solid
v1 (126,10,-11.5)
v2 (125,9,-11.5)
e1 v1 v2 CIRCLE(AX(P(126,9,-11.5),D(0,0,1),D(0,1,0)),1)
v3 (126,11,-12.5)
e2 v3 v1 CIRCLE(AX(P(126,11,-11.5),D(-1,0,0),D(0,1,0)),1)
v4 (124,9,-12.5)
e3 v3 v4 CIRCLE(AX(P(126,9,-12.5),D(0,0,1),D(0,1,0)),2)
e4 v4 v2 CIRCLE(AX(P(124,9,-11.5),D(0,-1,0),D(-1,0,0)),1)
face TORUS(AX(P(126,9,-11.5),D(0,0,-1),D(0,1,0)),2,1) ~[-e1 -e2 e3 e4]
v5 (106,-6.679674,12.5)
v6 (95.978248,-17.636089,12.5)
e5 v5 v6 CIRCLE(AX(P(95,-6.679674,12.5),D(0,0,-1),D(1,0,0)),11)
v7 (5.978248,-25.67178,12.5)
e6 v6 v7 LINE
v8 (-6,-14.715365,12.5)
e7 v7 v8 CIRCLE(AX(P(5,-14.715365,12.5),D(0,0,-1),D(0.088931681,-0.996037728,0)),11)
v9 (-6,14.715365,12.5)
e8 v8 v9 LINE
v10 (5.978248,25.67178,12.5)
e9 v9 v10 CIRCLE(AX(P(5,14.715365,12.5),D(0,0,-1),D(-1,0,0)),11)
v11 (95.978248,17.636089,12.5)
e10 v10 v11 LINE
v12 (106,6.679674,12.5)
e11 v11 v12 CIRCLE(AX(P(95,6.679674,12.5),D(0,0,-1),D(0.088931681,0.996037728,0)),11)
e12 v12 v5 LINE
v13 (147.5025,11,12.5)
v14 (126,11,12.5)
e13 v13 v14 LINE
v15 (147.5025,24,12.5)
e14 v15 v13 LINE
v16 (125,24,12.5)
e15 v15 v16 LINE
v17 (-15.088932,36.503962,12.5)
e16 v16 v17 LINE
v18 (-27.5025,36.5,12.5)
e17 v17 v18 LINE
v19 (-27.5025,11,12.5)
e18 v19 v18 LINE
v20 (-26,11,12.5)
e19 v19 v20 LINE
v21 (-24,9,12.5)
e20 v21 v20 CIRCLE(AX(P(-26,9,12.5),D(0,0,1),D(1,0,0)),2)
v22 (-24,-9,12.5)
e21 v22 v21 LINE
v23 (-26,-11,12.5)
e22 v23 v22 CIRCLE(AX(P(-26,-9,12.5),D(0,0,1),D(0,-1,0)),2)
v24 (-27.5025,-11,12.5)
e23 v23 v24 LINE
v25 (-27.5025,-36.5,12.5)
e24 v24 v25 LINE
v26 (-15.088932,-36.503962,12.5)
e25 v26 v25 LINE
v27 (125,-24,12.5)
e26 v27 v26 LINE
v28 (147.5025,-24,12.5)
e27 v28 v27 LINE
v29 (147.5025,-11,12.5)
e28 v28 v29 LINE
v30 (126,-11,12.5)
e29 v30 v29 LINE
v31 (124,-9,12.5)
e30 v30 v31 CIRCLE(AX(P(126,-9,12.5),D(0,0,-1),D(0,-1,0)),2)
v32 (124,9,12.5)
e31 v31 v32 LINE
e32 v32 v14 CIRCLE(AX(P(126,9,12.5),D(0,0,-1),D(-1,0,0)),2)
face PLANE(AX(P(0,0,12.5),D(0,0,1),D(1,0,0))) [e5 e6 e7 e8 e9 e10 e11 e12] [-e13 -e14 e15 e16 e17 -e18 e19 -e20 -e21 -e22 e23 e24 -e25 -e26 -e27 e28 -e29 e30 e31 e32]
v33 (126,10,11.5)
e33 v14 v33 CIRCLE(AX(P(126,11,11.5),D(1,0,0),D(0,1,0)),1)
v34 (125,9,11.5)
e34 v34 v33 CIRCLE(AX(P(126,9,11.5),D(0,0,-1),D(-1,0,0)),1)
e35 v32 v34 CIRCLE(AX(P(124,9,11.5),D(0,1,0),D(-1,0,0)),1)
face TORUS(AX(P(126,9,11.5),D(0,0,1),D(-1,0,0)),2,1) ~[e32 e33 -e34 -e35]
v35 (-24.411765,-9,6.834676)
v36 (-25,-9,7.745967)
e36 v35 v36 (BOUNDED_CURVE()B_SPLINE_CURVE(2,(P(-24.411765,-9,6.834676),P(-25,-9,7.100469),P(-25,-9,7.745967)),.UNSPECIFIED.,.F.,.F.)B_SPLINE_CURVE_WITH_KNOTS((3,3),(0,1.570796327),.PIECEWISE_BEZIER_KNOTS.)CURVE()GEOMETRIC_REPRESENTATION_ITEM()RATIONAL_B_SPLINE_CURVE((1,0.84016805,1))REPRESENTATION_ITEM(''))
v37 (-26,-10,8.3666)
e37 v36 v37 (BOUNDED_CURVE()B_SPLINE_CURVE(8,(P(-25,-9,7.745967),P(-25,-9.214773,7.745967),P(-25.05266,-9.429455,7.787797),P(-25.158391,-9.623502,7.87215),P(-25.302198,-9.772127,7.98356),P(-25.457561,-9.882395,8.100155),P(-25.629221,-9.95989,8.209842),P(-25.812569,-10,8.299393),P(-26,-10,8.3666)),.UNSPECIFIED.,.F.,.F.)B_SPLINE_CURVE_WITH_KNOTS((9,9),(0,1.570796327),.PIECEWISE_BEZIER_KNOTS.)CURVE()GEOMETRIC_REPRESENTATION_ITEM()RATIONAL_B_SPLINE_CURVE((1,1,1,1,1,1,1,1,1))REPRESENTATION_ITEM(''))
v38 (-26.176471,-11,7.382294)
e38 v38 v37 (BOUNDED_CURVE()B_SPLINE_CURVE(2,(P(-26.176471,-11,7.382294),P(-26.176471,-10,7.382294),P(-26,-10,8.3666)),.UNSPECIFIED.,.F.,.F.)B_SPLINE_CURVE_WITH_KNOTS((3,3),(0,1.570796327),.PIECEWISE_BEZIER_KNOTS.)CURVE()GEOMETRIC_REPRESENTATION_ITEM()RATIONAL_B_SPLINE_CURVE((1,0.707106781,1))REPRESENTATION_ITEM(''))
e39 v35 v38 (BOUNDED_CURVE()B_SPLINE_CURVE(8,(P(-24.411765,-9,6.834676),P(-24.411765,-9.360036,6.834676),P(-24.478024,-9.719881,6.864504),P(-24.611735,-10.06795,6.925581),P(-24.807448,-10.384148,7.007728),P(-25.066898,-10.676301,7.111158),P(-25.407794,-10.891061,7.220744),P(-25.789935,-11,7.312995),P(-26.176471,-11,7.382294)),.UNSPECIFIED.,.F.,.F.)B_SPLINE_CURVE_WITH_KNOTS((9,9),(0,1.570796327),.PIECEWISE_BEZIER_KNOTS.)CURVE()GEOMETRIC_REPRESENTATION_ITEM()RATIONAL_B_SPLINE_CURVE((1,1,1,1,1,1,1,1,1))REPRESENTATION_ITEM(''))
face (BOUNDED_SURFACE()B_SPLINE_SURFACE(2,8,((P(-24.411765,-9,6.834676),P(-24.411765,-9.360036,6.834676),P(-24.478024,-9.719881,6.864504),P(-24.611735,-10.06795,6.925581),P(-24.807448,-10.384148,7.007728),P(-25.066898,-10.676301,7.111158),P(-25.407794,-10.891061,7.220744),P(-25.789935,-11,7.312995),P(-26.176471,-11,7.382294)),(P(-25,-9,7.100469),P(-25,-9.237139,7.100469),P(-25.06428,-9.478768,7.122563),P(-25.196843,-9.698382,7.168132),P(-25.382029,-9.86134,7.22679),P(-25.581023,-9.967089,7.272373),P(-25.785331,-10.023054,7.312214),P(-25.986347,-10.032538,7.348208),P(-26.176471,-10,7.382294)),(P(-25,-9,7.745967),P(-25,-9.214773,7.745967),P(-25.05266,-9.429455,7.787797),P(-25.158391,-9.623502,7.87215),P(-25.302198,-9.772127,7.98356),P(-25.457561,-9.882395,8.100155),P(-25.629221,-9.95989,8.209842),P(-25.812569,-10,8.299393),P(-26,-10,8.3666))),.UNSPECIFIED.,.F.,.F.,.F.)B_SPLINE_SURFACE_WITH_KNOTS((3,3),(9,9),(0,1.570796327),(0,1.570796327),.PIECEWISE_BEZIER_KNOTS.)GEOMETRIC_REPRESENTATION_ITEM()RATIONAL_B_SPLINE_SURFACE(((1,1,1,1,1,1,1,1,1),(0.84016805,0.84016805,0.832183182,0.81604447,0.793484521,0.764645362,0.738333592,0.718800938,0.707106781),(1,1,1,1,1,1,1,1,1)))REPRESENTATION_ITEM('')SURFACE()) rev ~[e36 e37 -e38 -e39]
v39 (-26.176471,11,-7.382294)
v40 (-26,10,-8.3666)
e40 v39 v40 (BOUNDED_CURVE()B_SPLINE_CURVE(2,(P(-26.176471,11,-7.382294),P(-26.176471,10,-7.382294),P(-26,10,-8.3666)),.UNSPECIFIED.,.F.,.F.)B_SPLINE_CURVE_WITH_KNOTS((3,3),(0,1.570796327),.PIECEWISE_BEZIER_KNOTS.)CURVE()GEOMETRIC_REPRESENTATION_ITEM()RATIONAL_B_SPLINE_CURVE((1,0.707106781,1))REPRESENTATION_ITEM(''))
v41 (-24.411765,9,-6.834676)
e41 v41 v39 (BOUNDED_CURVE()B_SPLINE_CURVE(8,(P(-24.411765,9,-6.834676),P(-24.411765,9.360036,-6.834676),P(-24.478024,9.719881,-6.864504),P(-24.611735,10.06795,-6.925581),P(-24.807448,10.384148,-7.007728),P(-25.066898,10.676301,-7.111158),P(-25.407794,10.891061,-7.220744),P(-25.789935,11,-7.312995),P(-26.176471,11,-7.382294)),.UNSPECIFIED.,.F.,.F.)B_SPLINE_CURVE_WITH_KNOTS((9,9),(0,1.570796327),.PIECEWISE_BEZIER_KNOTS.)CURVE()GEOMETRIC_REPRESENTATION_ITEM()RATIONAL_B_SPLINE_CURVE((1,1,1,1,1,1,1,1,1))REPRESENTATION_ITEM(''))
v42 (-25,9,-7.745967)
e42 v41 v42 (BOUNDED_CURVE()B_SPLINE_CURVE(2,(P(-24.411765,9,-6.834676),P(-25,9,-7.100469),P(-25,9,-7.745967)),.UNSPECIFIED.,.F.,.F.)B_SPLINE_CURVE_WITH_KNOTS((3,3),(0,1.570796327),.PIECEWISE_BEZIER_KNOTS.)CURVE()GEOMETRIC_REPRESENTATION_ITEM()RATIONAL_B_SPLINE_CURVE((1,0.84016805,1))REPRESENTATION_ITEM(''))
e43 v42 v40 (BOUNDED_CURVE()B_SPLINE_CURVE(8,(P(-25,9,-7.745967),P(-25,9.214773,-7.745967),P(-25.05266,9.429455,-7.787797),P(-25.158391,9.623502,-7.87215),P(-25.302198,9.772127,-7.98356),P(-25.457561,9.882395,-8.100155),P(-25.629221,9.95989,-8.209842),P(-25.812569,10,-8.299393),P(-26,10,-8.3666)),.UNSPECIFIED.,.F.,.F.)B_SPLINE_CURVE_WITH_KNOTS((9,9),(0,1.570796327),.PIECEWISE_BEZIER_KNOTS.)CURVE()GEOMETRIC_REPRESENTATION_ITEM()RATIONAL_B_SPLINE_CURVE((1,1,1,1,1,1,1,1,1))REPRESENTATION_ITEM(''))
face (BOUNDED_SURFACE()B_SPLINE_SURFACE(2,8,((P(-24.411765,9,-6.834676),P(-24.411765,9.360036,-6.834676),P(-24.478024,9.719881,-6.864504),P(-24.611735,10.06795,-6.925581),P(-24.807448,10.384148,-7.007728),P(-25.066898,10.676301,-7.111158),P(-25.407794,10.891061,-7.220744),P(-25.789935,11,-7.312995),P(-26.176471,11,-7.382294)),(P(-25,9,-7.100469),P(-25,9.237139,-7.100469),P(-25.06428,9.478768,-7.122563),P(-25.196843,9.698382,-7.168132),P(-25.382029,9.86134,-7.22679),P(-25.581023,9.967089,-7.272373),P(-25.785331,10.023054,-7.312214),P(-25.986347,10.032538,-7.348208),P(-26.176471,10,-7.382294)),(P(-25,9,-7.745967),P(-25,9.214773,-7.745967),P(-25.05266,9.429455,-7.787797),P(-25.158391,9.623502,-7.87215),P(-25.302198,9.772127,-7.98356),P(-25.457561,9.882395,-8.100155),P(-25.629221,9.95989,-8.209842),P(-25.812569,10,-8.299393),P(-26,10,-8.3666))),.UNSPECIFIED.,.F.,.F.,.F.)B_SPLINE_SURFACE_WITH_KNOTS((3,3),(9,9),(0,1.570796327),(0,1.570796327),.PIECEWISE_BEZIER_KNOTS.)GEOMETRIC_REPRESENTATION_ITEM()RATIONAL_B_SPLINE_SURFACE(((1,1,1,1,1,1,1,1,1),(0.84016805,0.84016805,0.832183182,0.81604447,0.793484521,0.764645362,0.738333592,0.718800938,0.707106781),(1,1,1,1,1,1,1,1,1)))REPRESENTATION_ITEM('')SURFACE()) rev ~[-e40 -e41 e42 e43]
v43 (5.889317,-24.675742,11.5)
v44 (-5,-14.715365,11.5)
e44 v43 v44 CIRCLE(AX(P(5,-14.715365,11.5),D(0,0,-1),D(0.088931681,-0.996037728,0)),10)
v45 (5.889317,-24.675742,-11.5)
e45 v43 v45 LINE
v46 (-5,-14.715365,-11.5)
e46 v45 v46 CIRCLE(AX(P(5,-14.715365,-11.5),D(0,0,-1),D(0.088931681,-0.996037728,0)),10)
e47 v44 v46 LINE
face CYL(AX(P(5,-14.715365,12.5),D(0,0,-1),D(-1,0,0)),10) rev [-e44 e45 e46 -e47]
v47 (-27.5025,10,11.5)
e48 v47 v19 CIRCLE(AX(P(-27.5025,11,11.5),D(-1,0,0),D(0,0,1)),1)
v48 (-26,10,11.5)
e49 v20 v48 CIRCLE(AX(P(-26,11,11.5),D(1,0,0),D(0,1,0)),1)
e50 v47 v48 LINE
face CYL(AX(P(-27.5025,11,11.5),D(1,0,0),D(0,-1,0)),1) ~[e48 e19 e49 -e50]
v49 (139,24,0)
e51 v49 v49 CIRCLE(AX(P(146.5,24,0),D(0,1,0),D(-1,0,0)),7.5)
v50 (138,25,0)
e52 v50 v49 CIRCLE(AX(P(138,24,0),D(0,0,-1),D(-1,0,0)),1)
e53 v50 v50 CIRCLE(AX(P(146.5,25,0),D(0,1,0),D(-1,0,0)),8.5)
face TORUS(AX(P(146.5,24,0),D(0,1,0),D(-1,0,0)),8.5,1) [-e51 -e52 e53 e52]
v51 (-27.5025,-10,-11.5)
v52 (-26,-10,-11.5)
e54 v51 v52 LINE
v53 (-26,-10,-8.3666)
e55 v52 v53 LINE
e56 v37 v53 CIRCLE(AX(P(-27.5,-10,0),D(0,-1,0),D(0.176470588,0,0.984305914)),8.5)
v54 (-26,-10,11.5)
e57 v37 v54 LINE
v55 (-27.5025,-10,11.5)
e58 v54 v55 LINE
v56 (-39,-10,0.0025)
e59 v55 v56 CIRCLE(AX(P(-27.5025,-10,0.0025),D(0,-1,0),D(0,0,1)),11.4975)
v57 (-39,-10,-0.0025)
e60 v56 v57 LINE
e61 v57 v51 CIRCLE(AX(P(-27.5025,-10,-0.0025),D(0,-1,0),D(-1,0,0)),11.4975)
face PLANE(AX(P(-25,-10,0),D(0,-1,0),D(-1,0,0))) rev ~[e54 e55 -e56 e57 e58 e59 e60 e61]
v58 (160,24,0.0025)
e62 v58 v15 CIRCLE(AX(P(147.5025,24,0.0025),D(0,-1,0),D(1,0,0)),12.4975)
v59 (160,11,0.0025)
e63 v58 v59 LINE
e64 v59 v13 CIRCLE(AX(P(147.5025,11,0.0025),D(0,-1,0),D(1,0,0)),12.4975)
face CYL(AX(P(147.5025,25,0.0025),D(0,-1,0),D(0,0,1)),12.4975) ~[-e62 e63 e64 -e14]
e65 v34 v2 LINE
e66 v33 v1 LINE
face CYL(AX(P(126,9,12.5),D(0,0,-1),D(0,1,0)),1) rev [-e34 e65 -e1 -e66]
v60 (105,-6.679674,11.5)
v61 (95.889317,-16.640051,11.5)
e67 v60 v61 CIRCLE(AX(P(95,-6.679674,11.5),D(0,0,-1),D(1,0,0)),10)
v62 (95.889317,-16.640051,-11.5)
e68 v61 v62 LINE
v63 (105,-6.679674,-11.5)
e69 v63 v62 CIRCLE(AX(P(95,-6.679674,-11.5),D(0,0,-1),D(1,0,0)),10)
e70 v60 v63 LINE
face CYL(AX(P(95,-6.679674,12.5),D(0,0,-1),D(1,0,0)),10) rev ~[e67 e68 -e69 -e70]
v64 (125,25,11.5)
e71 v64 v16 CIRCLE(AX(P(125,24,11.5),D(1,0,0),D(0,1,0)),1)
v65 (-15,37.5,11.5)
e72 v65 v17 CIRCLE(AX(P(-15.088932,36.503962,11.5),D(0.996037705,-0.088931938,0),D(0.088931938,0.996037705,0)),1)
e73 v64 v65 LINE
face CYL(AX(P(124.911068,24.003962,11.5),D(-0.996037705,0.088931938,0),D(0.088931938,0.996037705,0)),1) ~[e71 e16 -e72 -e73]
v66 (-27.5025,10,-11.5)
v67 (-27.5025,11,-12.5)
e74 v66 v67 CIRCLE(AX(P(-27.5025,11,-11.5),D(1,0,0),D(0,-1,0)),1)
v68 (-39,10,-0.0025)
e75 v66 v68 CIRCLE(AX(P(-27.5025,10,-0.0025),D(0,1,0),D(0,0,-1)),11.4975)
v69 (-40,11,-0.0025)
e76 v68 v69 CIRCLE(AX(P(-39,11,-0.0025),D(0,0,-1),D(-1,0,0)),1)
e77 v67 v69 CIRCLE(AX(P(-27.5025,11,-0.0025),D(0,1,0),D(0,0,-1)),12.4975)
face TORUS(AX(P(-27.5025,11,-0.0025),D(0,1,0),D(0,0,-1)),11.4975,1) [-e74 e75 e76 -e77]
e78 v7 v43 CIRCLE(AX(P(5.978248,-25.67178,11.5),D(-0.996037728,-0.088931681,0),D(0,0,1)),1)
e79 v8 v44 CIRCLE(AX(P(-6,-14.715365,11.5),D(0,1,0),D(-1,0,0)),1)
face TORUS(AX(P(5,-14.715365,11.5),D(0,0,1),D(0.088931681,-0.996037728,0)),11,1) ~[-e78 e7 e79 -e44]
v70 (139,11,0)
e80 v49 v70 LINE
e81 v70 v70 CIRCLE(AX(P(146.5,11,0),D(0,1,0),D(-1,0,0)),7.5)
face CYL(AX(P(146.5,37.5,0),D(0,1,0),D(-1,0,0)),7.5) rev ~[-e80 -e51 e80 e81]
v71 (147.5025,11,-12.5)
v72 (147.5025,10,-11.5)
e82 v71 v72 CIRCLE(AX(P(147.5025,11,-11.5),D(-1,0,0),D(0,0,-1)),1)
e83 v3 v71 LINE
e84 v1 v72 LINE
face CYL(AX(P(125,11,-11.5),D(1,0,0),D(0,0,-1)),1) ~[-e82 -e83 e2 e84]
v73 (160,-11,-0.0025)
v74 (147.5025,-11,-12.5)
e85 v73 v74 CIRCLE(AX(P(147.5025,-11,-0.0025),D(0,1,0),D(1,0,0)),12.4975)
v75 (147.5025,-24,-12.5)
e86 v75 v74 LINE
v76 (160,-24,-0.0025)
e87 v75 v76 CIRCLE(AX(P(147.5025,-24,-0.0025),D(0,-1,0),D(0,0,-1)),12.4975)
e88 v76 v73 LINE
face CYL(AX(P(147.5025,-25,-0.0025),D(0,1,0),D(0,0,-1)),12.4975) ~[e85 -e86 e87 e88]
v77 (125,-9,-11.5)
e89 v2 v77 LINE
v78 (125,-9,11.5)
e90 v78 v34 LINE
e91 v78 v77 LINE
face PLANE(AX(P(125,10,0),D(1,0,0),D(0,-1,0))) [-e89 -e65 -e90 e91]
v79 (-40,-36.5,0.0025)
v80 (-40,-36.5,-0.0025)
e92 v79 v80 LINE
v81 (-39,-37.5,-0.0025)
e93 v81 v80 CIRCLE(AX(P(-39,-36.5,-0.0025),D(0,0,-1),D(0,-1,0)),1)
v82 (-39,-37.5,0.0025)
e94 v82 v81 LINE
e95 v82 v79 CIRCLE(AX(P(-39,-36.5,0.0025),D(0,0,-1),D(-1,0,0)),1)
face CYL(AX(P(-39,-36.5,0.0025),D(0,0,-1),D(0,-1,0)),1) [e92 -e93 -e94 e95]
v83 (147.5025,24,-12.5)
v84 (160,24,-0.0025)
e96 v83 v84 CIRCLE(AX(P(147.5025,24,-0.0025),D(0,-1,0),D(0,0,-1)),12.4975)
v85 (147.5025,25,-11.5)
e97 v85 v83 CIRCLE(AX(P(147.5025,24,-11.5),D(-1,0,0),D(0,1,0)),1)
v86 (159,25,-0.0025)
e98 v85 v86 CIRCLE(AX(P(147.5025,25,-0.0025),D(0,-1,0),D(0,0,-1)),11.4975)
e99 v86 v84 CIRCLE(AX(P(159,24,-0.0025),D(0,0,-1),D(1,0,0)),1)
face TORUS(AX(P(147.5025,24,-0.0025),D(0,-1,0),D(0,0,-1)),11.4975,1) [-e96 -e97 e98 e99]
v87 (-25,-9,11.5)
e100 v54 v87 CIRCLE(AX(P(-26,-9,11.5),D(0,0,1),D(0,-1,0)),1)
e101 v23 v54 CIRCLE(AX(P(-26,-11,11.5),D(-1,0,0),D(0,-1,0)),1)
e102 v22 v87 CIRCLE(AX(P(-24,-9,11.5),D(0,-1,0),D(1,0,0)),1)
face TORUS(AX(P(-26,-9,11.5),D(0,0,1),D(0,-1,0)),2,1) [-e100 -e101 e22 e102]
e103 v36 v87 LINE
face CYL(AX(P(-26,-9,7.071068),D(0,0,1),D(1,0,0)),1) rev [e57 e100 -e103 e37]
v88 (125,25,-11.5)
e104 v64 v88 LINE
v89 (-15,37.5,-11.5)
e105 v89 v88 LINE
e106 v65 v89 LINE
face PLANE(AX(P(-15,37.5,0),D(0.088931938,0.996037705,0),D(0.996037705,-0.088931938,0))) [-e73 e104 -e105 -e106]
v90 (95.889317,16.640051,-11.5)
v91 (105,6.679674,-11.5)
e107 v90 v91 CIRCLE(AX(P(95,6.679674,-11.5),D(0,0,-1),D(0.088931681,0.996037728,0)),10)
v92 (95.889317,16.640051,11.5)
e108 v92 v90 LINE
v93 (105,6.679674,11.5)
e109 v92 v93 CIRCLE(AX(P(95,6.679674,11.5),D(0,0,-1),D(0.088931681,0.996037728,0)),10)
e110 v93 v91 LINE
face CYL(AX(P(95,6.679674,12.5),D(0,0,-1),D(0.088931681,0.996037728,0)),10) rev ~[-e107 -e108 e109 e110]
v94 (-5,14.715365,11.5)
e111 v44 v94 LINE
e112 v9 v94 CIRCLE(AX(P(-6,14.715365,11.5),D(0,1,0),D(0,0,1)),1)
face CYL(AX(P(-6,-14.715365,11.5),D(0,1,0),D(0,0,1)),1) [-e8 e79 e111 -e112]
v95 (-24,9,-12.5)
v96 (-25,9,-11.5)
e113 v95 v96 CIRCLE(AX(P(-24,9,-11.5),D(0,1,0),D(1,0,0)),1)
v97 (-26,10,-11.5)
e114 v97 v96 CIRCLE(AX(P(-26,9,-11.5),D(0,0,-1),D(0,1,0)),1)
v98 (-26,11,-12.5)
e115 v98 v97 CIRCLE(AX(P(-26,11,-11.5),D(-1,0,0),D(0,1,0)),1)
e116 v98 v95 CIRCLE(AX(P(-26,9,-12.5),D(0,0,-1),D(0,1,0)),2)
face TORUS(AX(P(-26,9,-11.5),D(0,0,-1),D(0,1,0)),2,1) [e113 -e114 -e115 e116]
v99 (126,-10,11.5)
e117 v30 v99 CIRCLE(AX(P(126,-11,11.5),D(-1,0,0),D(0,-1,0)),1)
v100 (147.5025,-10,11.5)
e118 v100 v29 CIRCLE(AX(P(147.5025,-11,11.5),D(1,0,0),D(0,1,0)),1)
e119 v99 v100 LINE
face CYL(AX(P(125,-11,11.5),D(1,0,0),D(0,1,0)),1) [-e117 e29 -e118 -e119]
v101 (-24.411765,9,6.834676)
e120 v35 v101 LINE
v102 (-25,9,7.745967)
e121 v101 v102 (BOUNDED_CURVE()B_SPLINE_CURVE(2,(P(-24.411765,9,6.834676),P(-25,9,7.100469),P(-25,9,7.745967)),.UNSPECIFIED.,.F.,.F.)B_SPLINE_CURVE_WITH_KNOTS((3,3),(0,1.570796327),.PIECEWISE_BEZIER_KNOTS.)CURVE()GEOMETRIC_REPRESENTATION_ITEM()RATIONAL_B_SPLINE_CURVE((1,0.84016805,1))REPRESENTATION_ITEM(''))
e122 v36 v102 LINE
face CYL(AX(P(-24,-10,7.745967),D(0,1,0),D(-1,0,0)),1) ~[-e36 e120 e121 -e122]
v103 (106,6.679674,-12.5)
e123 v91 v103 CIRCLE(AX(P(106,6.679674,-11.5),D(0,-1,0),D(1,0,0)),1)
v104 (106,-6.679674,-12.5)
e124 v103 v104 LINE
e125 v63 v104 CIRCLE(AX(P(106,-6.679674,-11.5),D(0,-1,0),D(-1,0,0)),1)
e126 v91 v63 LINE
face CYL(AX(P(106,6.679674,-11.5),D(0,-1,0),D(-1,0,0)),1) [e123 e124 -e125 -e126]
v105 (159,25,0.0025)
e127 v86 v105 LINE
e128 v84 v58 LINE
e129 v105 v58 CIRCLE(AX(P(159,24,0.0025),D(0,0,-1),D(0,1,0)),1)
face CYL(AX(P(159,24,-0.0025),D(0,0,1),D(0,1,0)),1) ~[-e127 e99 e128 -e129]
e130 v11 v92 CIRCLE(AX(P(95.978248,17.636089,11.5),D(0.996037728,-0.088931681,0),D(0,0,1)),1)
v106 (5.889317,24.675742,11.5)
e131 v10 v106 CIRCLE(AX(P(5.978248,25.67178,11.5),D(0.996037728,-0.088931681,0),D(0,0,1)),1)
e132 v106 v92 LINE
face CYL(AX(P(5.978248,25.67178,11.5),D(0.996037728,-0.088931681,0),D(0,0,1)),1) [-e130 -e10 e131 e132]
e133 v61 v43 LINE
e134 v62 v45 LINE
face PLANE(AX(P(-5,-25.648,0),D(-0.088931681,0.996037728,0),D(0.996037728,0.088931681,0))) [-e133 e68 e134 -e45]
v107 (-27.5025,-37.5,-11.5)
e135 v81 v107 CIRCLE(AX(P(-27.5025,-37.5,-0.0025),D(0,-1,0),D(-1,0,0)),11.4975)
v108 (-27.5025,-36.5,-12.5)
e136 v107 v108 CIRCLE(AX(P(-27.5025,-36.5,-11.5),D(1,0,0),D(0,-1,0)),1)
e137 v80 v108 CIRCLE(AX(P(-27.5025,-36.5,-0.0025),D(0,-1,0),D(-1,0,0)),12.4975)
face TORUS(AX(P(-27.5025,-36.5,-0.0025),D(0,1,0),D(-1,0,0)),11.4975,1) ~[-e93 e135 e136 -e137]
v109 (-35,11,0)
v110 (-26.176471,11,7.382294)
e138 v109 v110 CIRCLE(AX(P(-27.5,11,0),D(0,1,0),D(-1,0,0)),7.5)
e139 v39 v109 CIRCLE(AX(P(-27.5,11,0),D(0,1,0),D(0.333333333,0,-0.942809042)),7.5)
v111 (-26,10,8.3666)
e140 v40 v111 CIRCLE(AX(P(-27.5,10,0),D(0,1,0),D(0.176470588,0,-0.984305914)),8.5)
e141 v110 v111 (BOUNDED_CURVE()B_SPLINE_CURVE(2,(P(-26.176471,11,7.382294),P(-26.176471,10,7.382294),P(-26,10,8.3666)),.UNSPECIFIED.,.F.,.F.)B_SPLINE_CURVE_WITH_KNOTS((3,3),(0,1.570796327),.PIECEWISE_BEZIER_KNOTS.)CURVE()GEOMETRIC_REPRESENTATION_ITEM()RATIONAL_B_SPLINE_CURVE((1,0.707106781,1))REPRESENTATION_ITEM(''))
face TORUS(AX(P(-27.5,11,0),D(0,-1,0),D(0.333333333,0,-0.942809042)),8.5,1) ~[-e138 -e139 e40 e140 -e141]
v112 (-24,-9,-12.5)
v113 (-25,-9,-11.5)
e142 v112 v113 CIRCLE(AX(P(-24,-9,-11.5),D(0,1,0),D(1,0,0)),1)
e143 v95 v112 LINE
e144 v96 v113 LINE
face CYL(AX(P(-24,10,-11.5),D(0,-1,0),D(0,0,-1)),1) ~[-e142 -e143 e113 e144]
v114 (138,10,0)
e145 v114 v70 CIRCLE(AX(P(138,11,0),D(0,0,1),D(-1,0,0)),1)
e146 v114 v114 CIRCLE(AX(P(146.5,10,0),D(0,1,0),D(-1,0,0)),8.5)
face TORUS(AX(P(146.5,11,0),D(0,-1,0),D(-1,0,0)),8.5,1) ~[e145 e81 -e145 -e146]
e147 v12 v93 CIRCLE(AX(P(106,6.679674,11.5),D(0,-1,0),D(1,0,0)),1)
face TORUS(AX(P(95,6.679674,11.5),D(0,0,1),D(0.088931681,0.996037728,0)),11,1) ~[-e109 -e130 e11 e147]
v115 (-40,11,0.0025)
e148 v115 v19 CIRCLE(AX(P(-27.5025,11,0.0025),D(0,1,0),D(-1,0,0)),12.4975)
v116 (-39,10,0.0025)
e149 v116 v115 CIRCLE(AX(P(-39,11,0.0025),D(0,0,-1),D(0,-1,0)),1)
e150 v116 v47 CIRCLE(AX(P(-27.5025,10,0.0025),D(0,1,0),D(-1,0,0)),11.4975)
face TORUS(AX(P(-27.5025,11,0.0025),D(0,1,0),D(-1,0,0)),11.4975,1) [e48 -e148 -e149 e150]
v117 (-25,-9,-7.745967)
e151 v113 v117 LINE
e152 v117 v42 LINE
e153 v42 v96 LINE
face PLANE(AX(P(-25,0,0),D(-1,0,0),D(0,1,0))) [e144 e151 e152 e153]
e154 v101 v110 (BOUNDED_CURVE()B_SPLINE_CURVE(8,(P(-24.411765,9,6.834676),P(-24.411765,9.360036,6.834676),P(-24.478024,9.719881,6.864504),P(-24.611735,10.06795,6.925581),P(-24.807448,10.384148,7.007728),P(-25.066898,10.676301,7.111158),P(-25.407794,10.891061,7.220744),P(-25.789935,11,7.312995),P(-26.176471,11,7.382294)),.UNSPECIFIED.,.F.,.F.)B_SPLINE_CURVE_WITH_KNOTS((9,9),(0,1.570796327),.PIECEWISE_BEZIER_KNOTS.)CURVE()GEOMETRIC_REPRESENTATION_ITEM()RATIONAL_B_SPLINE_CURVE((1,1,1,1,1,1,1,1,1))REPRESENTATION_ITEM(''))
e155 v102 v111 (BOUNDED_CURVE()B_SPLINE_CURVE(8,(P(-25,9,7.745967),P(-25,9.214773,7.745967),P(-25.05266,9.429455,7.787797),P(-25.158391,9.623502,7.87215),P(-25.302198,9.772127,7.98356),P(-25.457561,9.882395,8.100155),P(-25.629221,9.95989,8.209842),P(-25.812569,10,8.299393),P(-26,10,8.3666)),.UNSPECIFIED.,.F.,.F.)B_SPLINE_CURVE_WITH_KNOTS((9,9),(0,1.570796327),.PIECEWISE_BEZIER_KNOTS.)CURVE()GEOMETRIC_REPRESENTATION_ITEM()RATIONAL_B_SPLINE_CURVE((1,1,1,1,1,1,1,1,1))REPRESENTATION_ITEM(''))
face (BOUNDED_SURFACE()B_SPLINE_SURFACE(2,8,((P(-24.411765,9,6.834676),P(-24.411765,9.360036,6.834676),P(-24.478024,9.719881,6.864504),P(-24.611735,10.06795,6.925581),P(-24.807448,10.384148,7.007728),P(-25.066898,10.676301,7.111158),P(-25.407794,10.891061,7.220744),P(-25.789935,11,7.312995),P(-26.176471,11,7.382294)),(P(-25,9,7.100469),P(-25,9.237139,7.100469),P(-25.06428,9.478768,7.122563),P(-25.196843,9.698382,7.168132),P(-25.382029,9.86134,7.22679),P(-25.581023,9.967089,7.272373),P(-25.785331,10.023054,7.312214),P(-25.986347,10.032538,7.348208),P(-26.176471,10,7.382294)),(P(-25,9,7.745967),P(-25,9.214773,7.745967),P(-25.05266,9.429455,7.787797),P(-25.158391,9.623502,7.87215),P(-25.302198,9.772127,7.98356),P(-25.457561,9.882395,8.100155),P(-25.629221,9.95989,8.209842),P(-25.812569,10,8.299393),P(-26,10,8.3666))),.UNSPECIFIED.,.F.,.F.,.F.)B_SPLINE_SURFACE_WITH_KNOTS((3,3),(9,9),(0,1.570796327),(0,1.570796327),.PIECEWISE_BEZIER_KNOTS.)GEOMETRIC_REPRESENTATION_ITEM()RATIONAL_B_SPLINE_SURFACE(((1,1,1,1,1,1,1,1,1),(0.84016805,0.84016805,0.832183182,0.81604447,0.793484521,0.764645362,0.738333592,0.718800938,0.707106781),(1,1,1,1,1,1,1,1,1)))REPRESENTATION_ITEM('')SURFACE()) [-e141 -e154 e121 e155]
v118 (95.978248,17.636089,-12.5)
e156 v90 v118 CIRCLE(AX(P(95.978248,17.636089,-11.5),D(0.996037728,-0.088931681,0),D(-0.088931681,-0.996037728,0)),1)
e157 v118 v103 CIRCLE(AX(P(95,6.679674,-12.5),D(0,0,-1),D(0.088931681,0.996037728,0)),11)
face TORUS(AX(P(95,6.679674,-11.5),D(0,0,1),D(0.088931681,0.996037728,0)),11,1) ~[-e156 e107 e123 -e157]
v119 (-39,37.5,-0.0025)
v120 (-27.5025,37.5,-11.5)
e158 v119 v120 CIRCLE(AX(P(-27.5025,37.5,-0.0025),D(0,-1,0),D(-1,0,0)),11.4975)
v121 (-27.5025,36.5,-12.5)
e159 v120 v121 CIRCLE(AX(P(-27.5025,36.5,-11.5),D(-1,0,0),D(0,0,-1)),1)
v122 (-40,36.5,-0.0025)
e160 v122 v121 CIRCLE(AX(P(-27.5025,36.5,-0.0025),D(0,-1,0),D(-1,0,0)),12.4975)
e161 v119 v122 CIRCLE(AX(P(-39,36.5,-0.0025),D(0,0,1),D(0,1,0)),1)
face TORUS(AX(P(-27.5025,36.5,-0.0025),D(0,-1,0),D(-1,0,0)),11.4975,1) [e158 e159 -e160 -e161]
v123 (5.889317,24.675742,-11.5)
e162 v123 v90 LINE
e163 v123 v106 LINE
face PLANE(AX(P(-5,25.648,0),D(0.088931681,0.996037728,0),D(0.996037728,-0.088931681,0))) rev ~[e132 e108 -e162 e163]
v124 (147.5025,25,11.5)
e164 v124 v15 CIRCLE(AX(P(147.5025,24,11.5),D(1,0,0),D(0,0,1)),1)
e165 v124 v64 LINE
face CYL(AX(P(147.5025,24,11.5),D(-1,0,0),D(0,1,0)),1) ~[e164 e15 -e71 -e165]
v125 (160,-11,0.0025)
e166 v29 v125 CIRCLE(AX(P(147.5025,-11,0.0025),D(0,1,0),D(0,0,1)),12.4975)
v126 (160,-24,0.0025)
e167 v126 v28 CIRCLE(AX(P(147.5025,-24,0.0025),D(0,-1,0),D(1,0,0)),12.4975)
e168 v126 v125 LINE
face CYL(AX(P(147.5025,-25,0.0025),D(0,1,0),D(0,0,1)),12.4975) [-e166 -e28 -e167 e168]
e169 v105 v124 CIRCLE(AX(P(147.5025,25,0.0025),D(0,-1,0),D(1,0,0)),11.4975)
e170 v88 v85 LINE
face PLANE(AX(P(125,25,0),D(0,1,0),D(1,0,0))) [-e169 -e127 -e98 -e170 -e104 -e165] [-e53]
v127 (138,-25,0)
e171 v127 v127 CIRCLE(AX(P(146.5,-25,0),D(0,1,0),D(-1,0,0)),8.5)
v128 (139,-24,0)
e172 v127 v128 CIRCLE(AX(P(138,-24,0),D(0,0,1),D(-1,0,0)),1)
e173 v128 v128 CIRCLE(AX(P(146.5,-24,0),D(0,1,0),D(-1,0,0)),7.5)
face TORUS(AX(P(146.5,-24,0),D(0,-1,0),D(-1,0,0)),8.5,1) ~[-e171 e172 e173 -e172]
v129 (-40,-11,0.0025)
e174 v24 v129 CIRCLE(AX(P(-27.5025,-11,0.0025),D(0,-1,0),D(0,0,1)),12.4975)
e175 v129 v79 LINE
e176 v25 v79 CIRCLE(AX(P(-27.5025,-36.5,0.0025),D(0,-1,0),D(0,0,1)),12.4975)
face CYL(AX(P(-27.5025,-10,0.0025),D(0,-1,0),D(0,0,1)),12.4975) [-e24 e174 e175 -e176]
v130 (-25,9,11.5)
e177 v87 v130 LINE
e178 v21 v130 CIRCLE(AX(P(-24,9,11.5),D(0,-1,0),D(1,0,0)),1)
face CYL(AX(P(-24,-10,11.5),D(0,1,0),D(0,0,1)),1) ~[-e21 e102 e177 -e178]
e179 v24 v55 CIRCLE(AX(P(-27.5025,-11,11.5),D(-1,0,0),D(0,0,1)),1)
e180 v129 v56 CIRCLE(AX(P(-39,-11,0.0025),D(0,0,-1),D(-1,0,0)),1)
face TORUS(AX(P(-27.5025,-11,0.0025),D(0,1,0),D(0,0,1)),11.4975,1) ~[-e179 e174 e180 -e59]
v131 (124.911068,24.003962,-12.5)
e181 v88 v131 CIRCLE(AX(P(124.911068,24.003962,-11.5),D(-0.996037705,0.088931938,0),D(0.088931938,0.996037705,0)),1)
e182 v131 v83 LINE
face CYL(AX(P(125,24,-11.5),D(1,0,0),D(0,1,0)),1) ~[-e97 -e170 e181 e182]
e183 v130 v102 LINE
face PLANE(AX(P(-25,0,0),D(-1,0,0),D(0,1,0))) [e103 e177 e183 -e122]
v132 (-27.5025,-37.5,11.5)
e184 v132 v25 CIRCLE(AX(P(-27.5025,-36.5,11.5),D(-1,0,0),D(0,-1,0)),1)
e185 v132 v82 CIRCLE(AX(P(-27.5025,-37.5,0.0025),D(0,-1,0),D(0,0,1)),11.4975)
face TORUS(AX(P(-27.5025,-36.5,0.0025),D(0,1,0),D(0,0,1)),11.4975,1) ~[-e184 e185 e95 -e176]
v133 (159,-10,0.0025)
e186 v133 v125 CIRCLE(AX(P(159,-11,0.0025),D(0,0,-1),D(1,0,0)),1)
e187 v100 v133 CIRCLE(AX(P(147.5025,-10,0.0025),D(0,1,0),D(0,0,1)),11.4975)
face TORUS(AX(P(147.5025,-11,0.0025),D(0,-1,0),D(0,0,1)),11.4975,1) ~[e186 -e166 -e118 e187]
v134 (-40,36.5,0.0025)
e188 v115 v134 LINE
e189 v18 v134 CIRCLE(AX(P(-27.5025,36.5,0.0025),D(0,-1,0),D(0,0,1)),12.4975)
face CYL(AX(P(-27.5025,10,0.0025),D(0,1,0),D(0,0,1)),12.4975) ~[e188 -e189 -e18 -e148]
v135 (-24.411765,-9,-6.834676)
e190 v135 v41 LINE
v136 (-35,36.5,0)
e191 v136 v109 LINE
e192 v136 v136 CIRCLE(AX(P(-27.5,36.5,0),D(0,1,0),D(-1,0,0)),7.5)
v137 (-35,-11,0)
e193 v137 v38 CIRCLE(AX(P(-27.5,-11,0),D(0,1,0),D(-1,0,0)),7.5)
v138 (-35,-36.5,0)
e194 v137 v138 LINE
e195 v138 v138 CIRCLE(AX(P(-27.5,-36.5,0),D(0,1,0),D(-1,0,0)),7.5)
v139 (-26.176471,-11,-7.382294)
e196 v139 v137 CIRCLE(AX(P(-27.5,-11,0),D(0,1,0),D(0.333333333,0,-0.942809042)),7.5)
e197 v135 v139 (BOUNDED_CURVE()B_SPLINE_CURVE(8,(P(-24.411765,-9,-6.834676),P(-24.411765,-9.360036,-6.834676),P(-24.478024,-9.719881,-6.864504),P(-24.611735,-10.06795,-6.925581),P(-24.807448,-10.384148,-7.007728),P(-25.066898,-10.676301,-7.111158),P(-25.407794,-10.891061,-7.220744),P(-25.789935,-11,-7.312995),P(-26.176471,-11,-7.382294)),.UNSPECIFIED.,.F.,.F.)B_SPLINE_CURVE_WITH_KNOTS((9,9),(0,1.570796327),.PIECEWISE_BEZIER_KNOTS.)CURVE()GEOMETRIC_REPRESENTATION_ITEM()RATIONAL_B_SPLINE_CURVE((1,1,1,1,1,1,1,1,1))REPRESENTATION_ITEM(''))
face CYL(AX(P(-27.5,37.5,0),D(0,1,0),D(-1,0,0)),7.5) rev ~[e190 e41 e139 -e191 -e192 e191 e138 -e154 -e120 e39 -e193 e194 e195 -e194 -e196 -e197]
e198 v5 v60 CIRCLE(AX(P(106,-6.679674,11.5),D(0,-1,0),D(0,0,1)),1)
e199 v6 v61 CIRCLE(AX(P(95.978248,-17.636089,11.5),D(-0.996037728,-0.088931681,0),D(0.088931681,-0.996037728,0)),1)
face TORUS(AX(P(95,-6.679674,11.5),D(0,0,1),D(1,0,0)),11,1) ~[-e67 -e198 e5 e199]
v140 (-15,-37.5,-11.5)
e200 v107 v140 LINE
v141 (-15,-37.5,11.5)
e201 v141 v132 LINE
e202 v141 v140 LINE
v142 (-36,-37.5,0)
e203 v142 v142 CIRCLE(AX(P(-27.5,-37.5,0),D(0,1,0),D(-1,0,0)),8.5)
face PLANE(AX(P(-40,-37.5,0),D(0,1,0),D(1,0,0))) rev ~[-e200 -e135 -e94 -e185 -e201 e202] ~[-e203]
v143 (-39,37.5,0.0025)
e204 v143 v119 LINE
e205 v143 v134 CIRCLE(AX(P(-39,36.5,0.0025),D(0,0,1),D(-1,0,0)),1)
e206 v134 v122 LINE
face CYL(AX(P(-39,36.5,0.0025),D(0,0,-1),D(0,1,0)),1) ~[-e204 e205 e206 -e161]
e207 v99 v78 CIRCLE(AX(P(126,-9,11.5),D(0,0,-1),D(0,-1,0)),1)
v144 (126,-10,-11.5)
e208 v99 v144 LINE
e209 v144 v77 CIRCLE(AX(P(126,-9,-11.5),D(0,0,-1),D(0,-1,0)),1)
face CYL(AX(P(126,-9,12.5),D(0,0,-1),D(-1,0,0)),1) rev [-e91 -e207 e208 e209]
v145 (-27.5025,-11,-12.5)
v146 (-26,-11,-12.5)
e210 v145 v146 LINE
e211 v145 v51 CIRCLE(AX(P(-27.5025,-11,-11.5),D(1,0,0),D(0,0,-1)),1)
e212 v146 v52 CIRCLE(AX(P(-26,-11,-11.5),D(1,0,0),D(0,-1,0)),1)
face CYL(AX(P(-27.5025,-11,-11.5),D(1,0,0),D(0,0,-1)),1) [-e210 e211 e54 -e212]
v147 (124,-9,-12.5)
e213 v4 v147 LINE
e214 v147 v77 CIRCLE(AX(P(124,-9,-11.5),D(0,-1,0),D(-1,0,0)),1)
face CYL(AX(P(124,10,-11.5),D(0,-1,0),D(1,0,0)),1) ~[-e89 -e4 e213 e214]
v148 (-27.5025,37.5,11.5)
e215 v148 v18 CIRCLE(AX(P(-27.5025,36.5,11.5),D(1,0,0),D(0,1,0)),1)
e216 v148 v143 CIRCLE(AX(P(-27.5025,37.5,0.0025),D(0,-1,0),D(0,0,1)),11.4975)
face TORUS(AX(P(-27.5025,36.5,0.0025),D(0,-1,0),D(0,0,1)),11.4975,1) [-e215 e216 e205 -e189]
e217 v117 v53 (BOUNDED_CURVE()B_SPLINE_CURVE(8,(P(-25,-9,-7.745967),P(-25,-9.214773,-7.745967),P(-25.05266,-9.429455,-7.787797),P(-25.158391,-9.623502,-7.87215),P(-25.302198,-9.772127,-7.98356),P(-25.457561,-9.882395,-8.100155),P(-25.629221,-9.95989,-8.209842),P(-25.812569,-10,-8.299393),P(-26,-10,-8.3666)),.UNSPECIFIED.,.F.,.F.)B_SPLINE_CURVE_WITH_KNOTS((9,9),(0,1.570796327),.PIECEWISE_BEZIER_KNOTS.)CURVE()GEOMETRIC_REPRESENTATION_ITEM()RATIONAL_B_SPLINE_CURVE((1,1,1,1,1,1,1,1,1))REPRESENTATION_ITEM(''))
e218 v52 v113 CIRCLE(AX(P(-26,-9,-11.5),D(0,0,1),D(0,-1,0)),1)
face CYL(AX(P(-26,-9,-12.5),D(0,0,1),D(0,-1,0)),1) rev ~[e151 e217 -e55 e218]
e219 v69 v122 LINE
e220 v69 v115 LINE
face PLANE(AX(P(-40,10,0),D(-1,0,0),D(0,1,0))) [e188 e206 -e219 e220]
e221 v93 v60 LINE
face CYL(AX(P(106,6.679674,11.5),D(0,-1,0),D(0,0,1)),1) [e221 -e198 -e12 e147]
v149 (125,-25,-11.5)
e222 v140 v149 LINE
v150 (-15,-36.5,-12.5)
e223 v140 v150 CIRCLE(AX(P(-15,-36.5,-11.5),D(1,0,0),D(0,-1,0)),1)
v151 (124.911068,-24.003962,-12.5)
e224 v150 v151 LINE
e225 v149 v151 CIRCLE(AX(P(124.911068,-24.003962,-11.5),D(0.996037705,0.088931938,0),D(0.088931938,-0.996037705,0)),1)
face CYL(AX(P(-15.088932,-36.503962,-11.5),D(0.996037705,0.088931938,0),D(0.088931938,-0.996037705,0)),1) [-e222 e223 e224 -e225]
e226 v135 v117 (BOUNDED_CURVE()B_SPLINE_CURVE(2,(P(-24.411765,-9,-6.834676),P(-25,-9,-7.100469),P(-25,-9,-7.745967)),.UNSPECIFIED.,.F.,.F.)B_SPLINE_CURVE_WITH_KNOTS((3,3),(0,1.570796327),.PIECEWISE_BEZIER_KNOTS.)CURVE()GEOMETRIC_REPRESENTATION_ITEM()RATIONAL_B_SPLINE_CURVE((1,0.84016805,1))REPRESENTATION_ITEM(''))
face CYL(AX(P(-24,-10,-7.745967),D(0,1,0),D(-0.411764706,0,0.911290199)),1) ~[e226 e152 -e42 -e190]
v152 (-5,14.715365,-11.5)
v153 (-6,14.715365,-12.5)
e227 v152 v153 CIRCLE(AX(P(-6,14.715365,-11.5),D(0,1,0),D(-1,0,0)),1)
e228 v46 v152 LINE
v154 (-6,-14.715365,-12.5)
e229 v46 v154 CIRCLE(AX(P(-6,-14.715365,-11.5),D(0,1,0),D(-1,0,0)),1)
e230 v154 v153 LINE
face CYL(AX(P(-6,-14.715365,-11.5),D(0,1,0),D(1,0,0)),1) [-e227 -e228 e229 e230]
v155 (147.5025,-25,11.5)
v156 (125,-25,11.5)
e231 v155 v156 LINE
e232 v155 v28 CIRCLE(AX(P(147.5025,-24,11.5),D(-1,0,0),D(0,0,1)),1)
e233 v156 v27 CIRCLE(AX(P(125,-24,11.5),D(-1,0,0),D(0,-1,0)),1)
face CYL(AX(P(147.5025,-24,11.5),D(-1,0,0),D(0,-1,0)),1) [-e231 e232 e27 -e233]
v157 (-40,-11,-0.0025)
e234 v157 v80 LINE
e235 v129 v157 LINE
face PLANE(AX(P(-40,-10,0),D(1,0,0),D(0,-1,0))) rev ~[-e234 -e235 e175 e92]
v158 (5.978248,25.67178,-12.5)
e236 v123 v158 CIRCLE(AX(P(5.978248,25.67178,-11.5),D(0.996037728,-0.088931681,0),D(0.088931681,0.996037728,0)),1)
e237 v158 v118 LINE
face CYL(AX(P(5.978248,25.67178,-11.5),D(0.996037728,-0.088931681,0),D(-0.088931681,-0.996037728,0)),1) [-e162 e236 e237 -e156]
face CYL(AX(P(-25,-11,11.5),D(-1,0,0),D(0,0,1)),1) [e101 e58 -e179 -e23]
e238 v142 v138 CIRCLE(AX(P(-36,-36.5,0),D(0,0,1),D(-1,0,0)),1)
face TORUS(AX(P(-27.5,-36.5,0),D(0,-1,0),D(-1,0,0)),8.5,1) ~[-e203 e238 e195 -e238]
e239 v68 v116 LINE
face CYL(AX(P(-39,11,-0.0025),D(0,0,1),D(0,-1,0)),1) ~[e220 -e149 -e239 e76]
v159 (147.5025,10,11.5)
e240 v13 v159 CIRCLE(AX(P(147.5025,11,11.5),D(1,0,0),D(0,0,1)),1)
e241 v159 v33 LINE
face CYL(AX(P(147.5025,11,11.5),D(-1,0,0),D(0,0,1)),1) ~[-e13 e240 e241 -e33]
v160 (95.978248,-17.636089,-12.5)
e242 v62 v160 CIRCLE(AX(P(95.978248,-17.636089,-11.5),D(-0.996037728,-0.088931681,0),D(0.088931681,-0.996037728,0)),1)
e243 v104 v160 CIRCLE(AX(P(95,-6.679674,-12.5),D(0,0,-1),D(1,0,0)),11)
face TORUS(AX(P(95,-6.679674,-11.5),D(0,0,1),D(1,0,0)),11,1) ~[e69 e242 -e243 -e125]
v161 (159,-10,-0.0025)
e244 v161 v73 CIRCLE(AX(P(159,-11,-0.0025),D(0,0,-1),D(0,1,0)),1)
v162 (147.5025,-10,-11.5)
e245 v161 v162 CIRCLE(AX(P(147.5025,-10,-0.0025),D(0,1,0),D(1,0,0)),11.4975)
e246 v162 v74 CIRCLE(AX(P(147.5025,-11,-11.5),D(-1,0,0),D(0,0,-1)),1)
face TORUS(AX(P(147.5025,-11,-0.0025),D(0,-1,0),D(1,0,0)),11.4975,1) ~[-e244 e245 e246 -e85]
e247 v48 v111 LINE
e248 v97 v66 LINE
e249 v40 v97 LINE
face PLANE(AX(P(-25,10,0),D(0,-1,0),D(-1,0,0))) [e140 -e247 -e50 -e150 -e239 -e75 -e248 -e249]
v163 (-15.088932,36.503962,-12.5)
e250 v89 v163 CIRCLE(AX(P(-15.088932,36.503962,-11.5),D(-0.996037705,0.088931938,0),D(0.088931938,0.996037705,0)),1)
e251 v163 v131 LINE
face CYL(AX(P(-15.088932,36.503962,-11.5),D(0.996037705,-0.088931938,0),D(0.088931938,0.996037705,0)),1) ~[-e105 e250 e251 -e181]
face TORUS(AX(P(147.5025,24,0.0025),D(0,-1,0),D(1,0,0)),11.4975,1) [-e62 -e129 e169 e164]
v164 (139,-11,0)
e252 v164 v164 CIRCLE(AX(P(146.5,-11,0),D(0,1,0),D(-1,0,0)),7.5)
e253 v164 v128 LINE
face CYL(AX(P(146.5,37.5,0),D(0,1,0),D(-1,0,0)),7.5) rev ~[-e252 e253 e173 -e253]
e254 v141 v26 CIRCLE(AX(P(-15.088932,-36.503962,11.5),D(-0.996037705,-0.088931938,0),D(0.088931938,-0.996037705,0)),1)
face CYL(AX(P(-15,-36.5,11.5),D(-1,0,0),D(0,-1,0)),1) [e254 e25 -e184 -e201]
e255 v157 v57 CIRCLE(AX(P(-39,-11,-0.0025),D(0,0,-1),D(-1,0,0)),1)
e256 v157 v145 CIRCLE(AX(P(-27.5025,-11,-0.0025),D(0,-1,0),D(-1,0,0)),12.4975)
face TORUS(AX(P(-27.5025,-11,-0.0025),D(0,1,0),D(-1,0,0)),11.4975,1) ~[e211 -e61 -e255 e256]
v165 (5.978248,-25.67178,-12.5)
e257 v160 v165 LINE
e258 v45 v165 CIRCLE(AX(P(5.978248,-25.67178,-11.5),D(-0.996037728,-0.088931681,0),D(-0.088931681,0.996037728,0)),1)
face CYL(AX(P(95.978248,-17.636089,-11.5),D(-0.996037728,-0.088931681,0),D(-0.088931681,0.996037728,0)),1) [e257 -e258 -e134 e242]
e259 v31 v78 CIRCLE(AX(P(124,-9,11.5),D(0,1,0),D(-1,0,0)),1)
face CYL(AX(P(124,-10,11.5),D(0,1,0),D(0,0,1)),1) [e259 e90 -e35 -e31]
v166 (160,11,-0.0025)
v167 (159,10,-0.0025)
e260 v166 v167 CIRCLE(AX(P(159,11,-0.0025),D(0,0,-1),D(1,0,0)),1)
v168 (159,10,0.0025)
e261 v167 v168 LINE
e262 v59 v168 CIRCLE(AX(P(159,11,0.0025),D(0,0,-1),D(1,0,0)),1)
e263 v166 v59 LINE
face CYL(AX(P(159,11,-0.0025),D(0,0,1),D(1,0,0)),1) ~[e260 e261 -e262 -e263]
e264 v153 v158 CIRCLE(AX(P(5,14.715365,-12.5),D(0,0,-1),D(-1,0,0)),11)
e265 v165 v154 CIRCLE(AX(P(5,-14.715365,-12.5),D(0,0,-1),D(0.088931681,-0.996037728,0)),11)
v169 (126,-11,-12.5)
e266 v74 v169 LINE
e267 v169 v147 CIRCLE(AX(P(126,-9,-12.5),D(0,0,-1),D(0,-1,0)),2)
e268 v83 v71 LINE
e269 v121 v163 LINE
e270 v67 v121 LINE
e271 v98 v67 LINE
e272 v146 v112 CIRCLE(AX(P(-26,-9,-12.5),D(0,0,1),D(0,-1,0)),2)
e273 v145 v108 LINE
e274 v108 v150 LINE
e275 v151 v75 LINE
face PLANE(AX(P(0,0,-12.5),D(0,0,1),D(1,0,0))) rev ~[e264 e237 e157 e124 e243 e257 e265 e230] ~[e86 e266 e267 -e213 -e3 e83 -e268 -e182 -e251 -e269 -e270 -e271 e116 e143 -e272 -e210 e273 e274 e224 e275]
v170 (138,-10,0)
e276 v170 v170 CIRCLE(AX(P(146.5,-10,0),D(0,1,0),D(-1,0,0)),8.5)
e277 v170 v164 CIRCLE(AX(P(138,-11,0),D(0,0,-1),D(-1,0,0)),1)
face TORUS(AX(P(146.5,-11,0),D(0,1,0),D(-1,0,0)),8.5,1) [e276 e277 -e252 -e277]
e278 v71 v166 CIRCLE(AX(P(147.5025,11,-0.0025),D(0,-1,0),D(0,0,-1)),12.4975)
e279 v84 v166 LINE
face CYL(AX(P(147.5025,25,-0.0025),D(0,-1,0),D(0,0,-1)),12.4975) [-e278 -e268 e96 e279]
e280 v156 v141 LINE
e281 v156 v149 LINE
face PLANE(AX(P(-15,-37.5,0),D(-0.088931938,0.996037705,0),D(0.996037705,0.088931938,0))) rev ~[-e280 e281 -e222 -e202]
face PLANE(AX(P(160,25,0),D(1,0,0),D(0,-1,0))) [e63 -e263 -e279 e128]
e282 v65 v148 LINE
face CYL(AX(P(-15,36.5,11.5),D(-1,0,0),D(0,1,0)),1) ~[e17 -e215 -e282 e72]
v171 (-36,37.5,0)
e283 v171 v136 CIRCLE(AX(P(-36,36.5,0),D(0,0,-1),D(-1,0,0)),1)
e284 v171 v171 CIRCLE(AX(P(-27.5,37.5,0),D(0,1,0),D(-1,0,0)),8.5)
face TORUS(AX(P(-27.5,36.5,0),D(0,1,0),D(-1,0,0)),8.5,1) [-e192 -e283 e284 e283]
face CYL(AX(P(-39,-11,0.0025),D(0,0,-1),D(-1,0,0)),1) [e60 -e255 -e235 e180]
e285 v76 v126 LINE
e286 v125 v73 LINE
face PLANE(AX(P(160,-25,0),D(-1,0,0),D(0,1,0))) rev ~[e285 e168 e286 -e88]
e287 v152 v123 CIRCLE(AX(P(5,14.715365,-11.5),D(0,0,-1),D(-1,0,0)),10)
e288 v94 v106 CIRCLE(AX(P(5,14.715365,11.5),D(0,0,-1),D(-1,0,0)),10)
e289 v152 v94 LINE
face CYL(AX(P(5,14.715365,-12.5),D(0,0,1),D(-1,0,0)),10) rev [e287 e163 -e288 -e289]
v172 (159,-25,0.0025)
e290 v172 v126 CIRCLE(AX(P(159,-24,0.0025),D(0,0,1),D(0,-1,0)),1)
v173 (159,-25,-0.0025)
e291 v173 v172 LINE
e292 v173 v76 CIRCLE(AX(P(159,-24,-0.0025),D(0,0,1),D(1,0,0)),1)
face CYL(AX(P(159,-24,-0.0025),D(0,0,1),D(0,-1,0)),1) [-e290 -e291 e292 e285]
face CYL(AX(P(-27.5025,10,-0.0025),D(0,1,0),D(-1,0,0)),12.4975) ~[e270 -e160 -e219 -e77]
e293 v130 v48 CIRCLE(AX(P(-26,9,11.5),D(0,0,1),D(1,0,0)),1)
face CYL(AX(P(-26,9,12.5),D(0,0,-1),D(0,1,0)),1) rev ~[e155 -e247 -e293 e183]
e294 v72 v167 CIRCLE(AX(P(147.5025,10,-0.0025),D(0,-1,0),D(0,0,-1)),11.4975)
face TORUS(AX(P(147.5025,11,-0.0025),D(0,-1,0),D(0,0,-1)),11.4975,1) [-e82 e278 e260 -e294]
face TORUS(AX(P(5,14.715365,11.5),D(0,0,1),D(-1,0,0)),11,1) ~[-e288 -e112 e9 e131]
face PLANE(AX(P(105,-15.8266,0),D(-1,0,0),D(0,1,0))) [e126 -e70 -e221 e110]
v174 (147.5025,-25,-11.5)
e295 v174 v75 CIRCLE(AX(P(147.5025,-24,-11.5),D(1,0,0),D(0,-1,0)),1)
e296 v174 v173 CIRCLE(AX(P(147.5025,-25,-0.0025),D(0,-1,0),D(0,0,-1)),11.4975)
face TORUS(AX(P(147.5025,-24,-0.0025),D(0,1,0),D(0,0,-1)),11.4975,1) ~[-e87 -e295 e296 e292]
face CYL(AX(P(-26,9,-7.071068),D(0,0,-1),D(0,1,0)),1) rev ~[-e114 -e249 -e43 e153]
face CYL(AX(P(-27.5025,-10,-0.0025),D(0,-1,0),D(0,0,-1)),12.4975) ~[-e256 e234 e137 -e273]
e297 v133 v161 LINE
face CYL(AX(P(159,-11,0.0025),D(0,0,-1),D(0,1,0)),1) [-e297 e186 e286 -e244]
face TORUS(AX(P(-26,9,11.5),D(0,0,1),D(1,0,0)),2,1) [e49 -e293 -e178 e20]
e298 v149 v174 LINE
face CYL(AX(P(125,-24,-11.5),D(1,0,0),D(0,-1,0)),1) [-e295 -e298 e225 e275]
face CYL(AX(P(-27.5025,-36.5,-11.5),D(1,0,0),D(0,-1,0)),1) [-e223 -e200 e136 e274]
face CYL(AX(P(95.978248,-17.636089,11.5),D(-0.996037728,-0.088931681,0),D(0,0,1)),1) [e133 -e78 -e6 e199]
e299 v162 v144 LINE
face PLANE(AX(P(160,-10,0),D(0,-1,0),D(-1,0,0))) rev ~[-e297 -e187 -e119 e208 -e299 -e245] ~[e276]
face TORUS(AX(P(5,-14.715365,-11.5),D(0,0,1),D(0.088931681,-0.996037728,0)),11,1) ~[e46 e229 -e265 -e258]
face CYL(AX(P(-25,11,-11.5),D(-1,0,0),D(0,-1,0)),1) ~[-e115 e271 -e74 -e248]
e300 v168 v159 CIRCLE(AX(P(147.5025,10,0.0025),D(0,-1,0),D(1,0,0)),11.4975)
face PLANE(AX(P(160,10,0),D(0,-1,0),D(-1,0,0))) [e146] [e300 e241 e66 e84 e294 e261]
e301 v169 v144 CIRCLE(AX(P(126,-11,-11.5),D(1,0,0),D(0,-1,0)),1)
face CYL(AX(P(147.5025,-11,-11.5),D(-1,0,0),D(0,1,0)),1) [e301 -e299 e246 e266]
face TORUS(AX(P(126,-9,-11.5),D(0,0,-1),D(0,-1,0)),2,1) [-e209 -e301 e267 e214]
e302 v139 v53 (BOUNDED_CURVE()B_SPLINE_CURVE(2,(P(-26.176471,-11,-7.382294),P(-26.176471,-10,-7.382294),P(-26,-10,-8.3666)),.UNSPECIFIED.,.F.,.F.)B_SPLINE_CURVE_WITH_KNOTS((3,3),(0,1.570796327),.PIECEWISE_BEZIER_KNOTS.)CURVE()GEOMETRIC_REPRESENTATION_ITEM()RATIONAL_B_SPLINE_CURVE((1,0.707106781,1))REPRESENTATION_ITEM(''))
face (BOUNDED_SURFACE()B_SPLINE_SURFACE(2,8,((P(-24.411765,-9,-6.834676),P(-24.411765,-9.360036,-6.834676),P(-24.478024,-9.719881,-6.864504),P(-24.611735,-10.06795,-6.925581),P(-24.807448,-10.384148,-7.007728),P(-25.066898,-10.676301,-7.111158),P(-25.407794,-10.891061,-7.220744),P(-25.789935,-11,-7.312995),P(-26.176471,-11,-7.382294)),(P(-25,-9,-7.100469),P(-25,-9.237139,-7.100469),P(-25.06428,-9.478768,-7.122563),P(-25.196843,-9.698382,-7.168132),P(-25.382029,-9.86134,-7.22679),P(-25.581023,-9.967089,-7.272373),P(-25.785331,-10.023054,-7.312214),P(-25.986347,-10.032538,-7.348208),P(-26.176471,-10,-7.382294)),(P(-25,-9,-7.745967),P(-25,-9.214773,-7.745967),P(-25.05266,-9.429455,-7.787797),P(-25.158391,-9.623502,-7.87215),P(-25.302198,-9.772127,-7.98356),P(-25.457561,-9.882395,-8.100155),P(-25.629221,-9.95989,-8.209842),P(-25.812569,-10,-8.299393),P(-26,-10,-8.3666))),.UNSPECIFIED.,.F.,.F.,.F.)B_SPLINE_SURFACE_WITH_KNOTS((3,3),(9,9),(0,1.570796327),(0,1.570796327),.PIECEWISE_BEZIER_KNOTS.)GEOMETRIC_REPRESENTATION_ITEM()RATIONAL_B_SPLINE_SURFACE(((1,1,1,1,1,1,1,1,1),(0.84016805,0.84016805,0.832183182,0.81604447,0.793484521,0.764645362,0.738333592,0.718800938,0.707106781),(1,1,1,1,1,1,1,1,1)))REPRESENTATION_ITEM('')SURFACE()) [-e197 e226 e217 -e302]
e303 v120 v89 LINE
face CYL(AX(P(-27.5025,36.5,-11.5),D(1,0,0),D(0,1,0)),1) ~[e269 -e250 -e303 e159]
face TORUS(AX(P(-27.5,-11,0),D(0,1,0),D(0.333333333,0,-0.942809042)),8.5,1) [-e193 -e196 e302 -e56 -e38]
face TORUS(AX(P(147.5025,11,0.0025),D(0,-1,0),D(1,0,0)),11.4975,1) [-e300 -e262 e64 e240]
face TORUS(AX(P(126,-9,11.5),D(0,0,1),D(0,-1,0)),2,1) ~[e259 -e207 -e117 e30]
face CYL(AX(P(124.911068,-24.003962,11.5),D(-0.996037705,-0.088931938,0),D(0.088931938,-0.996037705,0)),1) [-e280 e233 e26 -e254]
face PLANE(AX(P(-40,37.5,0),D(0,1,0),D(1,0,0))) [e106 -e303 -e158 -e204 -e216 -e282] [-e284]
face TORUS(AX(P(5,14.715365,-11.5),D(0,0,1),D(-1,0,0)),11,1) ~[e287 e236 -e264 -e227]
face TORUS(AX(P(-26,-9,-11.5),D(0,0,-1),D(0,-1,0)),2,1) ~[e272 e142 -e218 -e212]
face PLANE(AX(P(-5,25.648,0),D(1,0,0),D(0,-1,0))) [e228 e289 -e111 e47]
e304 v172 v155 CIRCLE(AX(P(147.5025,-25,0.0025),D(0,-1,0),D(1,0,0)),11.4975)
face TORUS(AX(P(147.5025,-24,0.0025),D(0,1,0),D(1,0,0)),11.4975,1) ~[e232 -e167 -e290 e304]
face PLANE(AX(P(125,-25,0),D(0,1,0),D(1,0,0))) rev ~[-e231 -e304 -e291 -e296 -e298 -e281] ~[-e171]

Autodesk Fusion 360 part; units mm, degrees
sketch "Sketch1" plane through (0, 0, 0) normal (0, 0, 1) x (1, 0, 0)
  line L0 (-25, 0) -> (-25, 10)
  line L1 (-25, 10) -> (-40, 10)
  line L2 (-40, 10) -> (-40, 37.5)
  line L3 (-40, 37.5) -> (-15, 37.5)
  line L4 (-15, 37.5) -> (125, 25)
  line L5 (125, 25) -> (160, 25)
  line L6 (160, 25) -> (160, 10)
  line L7 (160, 10) -> (125, 10)
  line L8 (125, 10) -> (125, 0)
  line L9 (-5, 25.648) -> (105, 15.8266)
  line L10 (-5, 25.648) -> (-5, 0)
  line L11 (105, 15.8266) -> (105, 0)
  line L12 (-65, 0) -> (170, 0) construction
  line L13 (-40, -10) -> (-40, -37.5)
  line L14 (-15, -37.5) -> (125, -25)
  line L15 (-25, -10) -> (-40, -10)
  line L16 (125, -25) -> (160, -25)
  line L17 (-5, -25.648) -> (105, -15.8266)
  line L18 (-5, -25.648) -> (-5, 0)
  line L19 (-40, -37.5) -> (-15, -37.5)
  line L20 (-65, 0) -> (170, 0) construction
  line L21 (-25, 0) -> (-25, -10)
  line L22 (105, -15.8266) -> (105, 0)
  line L23 (160, -25) -> (160, -10)
  line L24 (160, -10) -> (125, -10)
  line L25 (125, -10) -> (125, 0)
  dimension "d1" = 10
  dimension "d2" = 27.5
  dimension "d3" = 25
  dimension "d4" = 200
  dimension "d5" = 10
  dimension "d6" = 15
  dimension "d7" = 35
  dimension "d8" = 35
  dimension "d9" = 20
  dimension "d10" = 20
extrude "Extrude1" add sketch "Sketch1" along normal blind 12.5 and the other way blind 12.5
fillet "Fillet1" radius 12.5 8 edges at (160, 17.5, 12.5) (160, 17.5, -12.5) (160, -17.5, -12.5) (160, -17.5, 12.5) (-40, -23.75, 12.5) (-40, 23.75, 12.5) (-40, 23.75, -12.5) (-40, -23.75, -12.5)
fillet "Fillet2" radius 10 4 edges at (-5, -25.648, 0) (-5, 25.648, 0) (105, 15.8266, 0) (105, -15.8266, 0)
sketch "Sketch2" plane through (0, 37.5, 0) normal (0, 1, 0) x (-1, 0, 0)
  arc A0 (27.5, -12.5) -> (27.5, 12.5) centre (27.5, 0) ccw
  line L0 (27.5, 12.5) -> (15, 12.5)
  line L1 (15, 12.5) -> (15, -12.5)
  line L2 (15, -12.5) -> (27.5, -12.5)
  circle A1 centre (27.5, 0) radius 7.5
  circle A2 centre (-146.5, 0) radius 7.5
  dimension "d19" = 15
  dimension "d20" = 15
extrude "Extrude2" cut sketch "Sketch2" along normal blind 0 and the other way blind 80 contours A1 | A2
fillet "Fillet3" radius 1 60 edges at (50.8893, 20.6579, 12.5) (-1.7493, 22.0942, 12.5) (-5, 0, 12.5) (-1.7493, -22.0942, 12.5) (50.8893, -20.6579, 12.5) (102.3788, -13.429, 12.5) (105, 0, 12.5) (102.3788, 13.429, 12.5) (55, 31.25, -12.5) (-21.25, -37.5, -12.5) (-40, -37.5, 0) (-21.25, -37.5, 12.5) (-25, 10, -9.7855) (-25, -10, -9.7855) (-25, -10, 9.7855) (-15, 37.5, 0) (125, 10, 0) (-26.25, -10, 12.5) (-40, -10, 0) (-26.25, -10, -12.5) (125, -25, 0) (-26.25, 10, -12.5) (-40, 10, 0) (-26.25, 10, 12.5) (-21.25, 37.5, 12.5) (-40, 37.5, 0) (-21.25, 37.5, -12.5) (125, 0, 12.5) (125, 25, 0) (136.25, 10, 12.5) (160, 10, 0) (136.25, 10, -12.5) (-25, 0, -7.0711) (55, -31.25, -12.5) (-1.7493, 22.0942, -12.5) (-5, 0, -12.5) (-1.7493, -22.0942, -12.5) (50.8893, -20.6579, -12.5) (102.3788, -13.429, -12.5) (105, 0, -12.5) (102.3788, 13.429, -12.5) (50.8893, 20.6579, -12.5) (55, -31.25, 12.5) (-25, 10, 9.7855) (-15, -37.5, 0) (55, 31.25, 12.5) (136.25, 25, -12.5) (160, 25, 0) (136.25, 25, 12.5) (125, -10, 0) (-25, 0, 7.0711) (-25, 0, 12.5) (136.25, -25, 12.5) (160, -25, 0) (136.25, -25, -12.5) (136.25, -10, -12.5) (160, -10, 0) (136.25, -10, 12.5) (125, 0, -12.5) (-25, 0, -12.5) 30 faces at (5.4293, 24.7061, -4.1667) (35.8893, 21.9972, 4.1667) (98.2972, 16.1204, 4.1667) (105, 2.2266, 4.1667) (96.8673, -16.5038, 4.1667) (35.8893, -21.9972, 4.1667) (4.9684, -24.7153, 4.1667) (-5, -4.9051, 4.1667) (129.6667, -25, 0) (139.0373, 15, -0.7468) (-11.6667, -3.3333, -12.5) (-39.9434, -19.1667, -1.1905) (-11.6667, -3.3333, 12.5) (-33.2292, 28.3333, -11.1107) (155.2279, -20, 9.8262) (155.2279, 20, -9.8262) (31.6667, 33.3333, -4.1667) (31.6667, -33.3333, -4.1667) (139.0373, -20, -0.7468) (-22.0842, 37.5, 10.4984) (-26.1883, 10, -10.787) (-24.1546, -3.3333, 6.7126) (129.6667, 10, 0) (125, 3.3333, -4.1667) (-25, 3.3333, 8.8807) (129.6667, -10, 0) (-25, 3.3333, -8.8807) (129.6667, 25, 0) (-22.0842, -37.5, -10.4984) (-26.1883, -10, -10.787)
